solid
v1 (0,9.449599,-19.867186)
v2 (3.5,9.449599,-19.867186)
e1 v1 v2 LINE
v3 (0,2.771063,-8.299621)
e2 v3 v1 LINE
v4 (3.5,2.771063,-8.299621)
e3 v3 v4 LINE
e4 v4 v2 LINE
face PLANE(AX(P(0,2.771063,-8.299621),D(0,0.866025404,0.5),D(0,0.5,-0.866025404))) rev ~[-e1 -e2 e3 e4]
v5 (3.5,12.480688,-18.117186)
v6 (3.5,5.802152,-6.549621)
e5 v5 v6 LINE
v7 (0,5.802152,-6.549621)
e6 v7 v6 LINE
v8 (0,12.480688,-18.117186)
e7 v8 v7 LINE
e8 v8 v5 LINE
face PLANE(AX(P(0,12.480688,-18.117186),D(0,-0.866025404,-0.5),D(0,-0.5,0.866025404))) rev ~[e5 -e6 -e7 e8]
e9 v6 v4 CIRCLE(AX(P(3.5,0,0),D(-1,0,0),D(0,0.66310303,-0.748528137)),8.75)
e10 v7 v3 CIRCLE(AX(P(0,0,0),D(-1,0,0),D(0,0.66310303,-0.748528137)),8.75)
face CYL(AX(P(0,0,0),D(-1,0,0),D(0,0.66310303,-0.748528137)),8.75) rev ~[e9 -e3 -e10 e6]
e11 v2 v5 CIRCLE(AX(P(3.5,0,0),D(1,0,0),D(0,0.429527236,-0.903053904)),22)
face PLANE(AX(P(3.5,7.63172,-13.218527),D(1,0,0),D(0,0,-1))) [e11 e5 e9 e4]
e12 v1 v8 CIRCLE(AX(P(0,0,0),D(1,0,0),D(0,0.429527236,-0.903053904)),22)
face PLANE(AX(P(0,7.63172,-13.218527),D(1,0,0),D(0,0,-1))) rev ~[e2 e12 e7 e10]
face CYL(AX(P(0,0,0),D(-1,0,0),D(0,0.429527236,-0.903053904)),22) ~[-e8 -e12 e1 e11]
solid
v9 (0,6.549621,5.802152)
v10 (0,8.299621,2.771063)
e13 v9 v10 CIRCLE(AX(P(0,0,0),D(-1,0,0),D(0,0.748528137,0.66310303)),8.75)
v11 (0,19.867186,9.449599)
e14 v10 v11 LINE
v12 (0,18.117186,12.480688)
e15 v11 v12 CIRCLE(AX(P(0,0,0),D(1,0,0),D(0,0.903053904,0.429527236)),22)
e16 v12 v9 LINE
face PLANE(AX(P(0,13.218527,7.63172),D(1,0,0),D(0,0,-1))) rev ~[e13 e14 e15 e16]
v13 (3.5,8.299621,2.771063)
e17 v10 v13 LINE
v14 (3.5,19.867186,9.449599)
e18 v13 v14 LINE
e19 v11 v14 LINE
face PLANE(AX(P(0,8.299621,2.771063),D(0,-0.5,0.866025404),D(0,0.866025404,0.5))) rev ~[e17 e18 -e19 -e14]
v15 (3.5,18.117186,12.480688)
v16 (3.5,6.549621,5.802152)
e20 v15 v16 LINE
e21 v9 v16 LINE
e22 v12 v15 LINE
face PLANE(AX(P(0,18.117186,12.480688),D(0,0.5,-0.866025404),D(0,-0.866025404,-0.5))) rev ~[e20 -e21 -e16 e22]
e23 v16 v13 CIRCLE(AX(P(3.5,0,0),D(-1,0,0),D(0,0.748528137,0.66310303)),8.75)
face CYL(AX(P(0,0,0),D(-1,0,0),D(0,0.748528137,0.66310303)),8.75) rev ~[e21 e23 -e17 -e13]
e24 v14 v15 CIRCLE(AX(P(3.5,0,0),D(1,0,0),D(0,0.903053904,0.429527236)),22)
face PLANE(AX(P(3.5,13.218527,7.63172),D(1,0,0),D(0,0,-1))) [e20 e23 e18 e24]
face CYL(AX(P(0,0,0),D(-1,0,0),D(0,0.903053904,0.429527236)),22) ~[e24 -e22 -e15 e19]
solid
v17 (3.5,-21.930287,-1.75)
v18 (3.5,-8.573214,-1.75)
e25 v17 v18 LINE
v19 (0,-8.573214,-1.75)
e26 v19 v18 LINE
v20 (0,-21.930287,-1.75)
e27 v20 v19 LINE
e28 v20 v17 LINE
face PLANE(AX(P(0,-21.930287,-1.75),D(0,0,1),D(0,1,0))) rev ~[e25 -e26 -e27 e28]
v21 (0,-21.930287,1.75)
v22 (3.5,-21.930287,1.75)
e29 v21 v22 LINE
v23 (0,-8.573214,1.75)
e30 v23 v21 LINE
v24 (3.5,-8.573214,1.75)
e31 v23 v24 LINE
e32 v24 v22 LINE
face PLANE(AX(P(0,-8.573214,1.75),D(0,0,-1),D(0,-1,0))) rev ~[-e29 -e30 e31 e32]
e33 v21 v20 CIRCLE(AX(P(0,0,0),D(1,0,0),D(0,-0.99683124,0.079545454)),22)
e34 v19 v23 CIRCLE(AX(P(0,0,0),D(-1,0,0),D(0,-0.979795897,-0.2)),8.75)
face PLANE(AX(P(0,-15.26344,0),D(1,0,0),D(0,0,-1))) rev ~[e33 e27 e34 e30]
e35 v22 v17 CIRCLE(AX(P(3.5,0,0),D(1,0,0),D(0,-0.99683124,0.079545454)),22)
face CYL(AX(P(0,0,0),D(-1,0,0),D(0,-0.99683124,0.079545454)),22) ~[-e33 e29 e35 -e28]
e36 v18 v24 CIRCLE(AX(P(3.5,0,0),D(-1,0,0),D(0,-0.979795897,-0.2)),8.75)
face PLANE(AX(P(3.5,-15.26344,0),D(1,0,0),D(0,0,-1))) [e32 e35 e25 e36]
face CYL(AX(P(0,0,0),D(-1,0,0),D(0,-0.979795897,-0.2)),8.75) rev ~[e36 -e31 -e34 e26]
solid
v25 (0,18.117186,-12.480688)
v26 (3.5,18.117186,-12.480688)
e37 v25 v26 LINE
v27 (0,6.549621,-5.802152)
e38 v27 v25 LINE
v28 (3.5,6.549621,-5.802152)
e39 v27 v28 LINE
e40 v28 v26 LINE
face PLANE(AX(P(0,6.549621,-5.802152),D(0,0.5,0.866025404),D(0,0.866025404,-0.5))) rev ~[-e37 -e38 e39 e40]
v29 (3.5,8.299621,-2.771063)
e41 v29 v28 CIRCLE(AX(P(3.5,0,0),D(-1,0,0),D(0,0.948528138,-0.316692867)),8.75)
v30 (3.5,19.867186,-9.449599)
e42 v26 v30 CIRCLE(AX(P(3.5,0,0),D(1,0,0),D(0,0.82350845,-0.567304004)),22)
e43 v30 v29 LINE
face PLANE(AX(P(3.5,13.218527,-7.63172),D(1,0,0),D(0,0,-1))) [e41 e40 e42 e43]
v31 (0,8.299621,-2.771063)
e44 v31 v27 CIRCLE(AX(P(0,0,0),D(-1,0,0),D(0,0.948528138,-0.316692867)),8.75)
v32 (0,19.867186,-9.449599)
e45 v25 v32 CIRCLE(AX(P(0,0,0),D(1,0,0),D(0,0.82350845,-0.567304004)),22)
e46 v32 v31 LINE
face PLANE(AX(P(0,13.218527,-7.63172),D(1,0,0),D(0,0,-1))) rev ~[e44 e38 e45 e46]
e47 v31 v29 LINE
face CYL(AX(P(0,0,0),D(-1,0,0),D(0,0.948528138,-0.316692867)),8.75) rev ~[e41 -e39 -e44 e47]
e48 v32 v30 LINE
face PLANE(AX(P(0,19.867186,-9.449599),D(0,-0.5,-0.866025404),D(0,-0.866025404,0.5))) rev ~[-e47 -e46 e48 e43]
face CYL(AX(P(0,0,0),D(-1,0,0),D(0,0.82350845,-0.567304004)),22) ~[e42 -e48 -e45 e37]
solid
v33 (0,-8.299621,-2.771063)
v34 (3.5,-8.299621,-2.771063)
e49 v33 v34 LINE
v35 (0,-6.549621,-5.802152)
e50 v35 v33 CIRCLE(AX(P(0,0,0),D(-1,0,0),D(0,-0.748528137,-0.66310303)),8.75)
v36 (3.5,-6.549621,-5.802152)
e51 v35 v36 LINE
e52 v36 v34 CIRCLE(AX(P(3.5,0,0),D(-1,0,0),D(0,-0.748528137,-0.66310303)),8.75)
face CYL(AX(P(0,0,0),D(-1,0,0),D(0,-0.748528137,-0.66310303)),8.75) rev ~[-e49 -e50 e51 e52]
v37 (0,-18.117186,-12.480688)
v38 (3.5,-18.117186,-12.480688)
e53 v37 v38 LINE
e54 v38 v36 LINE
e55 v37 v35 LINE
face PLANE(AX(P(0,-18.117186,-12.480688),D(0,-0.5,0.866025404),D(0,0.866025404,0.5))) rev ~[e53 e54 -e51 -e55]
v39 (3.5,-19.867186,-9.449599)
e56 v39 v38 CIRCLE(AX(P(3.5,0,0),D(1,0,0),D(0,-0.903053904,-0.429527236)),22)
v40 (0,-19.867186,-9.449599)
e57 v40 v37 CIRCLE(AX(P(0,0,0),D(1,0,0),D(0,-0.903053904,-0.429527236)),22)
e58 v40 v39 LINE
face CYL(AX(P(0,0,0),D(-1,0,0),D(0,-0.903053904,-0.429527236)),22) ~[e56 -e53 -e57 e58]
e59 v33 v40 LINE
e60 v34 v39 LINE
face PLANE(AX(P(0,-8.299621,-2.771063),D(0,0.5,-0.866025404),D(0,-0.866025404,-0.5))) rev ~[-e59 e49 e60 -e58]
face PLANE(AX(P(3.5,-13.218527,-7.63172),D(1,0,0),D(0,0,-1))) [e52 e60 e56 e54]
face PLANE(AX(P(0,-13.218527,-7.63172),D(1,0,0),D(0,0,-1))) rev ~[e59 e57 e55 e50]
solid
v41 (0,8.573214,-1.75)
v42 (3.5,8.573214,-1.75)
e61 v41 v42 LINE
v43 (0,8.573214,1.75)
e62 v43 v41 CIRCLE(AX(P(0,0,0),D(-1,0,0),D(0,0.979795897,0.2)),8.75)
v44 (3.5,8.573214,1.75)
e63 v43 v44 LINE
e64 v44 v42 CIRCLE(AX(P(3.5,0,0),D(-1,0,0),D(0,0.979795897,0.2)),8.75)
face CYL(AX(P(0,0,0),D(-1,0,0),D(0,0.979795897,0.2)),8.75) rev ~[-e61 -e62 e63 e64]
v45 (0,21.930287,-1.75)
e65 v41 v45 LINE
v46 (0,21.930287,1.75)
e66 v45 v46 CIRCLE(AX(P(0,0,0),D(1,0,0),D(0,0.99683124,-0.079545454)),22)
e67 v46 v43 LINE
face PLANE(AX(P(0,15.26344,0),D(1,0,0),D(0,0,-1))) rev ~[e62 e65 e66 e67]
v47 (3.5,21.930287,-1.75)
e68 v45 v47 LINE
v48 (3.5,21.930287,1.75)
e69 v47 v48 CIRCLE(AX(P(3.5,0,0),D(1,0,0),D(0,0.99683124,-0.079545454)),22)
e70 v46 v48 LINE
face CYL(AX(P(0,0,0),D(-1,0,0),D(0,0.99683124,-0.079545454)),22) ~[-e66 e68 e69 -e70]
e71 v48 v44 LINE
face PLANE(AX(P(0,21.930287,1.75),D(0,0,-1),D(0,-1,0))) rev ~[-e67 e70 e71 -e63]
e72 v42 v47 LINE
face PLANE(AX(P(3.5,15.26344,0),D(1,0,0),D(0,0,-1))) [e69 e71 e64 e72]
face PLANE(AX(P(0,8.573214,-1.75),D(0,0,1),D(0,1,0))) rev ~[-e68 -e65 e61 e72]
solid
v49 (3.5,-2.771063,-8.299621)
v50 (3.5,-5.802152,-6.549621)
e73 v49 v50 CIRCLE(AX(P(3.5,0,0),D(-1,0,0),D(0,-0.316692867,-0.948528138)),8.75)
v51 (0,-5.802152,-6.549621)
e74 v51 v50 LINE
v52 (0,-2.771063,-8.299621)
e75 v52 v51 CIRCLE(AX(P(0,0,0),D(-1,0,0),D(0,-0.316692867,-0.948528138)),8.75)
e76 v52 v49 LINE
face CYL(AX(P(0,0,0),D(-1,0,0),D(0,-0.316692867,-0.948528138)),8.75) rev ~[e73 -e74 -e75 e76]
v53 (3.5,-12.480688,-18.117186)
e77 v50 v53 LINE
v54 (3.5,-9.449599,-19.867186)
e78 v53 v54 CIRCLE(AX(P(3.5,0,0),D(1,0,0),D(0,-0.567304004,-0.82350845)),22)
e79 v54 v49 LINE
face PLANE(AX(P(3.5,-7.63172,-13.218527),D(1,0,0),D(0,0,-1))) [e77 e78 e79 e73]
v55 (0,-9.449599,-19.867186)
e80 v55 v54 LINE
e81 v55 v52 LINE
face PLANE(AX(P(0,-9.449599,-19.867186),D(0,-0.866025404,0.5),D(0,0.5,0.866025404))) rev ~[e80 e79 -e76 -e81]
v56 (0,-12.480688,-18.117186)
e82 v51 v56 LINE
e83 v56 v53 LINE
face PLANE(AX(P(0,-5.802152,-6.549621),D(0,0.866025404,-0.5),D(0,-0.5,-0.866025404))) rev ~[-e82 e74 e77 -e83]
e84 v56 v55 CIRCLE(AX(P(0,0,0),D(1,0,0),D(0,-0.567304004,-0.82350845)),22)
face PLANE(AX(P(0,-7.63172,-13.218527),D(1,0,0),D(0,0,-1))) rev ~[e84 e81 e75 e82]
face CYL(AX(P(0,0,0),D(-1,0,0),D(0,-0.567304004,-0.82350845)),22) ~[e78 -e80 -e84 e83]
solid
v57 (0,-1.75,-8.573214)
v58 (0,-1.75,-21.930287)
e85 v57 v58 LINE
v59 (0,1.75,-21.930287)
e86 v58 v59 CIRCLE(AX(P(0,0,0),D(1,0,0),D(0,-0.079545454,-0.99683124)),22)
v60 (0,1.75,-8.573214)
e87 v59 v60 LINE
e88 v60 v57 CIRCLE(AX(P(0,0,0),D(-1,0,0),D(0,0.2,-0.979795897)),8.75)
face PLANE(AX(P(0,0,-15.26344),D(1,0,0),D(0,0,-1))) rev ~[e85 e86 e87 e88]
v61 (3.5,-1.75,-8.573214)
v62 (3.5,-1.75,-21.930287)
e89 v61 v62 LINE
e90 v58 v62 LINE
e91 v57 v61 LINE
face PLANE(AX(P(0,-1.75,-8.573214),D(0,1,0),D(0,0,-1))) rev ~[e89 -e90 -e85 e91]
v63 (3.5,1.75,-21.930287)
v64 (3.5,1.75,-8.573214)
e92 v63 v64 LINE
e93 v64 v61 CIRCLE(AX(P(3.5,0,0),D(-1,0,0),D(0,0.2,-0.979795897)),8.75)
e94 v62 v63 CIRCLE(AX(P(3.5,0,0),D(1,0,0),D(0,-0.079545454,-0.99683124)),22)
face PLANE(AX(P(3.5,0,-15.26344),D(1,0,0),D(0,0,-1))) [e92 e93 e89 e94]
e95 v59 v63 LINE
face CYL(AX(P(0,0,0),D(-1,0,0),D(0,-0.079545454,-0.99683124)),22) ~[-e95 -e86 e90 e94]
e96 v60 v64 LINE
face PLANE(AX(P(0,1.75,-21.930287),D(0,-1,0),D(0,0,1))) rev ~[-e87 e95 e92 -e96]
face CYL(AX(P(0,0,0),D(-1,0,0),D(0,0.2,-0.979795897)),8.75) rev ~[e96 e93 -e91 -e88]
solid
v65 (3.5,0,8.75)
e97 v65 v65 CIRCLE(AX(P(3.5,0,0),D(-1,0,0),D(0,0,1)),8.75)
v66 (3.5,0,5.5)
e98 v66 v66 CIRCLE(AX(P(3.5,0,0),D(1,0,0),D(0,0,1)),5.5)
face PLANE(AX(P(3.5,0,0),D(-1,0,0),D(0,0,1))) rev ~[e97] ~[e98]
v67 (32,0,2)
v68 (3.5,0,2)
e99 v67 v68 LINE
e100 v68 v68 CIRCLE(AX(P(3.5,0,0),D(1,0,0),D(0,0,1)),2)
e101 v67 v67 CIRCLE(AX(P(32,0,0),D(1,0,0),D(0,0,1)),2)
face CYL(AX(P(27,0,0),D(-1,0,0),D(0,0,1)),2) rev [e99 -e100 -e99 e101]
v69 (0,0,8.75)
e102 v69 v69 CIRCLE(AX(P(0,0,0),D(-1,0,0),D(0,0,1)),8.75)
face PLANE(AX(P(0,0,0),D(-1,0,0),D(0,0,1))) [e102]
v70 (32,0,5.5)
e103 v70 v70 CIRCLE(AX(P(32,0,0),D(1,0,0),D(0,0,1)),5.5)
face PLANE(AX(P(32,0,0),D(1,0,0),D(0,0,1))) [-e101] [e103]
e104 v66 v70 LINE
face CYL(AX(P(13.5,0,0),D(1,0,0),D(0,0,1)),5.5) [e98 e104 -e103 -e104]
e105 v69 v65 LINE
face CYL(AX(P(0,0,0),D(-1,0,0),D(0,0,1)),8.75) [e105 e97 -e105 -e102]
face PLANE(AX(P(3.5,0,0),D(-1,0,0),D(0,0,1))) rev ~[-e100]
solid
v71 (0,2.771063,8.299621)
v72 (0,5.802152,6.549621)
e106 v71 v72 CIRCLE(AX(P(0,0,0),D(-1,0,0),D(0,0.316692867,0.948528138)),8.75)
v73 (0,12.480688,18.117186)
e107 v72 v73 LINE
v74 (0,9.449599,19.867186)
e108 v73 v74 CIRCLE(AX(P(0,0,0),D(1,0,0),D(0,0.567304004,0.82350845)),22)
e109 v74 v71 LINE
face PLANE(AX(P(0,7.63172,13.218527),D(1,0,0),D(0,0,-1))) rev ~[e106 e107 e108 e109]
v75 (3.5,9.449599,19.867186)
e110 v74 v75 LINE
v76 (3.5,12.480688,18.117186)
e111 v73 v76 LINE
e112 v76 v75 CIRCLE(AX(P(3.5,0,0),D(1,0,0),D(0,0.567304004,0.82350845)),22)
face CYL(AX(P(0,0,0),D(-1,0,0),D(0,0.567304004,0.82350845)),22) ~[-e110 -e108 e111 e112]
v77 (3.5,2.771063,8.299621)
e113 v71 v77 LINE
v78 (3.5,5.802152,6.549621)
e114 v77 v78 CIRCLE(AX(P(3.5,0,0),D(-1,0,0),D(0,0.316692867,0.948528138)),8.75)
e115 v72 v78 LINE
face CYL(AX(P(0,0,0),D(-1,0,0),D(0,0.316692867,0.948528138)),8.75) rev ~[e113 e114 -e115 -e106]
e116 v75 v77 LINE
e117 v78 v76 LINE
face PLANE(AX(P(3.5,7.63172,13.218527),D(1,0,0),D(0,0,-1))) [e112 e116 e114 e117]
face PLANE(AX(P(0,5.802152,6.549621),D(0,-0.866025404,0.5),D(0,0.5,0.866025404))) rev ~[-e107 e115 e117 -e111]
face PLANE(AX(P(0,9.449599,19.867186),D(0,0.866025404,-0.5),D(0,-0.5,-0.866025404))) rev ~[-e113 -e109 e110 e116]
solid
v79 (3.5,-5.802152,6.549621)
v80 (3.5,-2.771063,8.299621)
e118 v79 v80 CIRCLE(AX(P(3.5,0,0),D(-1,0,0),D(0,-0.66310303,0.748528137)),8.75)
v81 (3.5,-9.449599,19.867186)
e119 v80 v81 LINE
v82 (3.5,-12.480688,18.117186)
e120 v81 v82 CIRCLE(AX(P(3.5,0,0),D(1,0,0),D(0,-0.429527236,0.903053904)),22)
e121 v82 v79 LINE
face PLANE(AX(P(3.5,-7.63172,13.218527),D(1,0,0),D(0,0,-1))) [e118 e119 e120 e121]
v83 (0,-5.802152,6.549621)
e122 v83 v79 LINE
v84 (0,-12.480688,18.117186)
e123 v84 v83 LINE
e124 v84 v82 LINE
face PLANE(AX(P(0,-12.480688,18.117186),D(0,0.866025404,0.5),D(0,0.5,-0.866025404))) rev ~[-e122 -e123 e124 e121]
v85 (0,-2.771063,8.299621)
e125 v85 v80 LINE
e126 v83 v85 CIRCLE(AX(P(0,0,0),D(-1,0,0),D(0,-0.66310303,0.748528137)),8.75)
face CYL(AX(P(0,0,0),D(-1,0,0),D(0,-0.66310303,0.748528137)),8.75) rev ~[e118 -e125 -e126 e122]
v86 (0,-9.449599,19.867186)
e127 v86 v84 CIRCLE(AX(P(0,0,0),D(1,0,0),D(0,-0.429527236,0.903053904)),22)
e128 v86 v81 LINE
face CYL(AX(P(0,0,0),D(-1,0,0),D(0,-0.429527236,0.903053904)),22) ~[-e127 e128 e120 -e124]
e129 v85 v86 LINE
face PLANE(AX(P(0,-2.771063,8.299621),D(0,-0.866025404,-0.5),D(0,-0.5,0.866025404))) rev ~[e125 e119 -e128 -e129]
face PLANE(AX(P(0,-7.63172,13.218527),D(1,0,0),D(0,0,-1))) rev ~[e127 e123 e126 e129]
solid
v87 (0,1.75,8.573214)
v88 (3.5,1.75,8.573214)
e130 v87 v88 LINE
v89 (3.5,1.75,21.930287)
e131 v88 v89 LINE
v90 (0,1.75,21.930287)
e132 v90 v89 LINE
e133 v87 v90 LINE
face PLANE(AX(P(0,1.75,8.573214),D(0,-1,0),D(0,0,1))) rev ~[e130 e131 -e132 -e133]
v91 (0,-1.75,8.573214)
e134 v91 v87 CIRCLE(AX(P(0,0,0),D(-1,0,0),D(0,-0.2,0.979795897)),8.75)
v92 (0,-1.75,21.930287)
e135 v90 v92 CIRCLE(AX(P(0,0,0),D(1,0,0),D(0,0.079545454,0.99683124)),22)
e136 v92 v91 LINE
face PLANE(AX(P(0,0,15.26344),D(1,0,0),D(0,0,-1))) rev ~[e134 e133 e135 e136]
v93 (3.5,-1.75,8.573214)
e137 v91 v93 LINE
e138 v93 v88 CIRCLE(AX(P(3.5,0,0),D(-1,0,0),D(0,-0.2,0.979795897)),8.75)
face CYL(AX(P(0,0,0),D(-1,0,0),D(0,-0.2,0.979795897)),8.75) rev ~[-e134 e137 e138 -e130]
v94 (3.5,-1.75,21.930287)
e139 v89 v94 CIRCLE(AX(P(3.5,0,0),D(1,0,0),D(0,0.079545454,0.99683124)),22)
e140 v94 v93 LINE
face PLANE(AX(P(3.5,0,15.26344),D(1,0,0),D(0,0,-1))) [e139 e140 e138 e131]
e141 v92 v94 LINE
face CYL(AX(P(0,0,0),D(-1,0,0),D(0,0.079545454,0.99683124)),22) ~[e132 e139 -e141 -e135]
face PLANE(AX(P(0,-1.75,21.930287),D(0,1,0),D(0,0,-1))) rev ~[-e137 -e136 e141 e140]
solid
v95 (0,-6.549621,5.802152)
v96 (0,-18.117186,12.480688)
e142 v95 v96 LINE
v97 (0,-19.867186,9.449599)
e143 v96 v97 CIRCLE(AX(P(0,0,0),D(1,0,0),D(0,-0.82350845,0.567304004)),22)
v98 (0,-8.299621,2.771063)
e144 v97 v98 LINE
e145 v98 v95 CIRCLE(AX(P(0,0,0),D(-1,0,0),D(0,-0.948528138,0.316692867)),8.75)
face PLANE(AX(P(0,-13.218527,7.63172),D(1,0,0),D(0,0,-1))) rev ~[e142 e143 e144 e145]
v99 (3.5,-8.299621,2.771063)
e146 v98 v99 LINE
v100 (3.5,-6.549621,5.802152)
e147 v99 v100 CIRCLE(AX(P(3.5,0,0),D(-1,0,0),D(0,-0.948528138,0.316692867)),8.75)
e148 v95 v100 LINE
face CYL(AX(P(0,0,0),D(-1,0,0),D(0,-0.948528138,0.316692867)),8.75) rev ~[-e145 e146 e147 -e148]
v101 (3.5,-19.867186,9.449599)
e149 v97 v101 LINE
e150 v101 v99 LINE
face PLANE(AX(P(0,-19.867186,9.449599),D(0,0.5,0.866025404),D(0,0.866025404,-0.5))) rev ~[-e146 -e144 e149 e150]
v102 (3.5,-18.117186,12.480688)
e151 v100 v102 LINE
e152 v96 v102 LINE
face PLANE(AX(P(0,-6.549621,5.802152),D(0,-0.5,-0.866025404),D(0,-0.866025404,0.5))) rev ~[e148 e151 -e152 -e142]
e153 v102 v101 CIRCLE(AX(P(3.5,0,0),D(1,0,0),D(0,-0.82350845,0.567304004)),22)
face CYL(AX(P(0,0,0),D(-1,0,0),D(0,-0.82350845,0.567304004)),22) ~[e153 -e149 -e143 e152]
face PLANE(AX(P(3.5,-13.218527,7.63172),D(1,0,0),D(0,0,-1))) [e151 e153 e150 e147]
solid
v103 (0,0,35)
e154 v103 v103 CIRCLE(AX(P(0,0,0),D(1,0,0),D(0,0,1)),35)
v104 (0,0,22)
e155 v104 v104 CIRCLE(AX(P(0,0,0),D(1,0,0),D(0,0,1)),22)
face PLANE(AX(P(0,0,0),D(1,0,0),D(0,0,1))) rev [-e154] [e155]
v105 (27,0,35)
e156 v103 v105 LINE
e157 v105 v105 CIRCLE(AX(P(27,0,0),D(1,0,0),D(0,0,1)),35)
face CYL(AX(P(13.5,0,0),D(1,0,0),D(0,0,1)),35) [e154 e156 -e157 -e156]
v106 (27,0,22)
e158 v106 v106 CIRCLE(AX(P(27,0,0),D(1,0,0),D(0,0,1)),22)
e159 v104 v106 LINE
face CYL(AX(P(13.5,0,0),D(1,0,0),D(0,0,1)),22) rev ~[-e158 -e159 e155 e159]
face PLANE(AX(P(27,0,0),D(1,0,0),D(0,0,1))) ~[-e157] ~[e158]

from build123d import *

# Parameters (mm, degrees)
SKETCH1_W              = 27
SKETCH1_H              = 13
SKETCH1_H_2            = 3.5
SKETCH3_R              = 5.5
SKETCH3_R_2            = 2
BOSS_EXTRUDE1_DEPTH    = 5
SKETCH4_R              = 8.75
BOSS_EXTRUDE2_DEPTH    = 3.5
BOSS_EXTRUDE3_DEPTH    = 3.5
BOSS_EXTRUDE3_2_DEPTH  = 3.5
BOSS_EXTRUDE3_3_DEPTH  = 3.5
BOSS_EXTRUDE3_4_DEPTH  = 3.5
BOSS_EXTRUDE3_5_DEPTH  = 3.5
BOSS_EXTRUDE3_6_DEPTH  = 3.5
BOSS_EXTRUDE3_7_DEPTH  = 3.5
BOSS_EXTRUDE3_8_DEPTH  = 3.5
BOSS_EXTRUDE3_9_DEPTH  = 3.5
BOSS_EXTRUDE3_10_DEPTH = 3.5
BOSS_EXTRUDE3_11_DEPTH = 3.5
BOSS_EXTRUDE3_12_DEPTH = 3.5


with BuildPart() as part:
    # Sketch1 → Revolve2 (revolve)
    with BuildSketch(Plane.XY, mode=Mode.PRIVATE) as revolve2_sk:
        with Locations((13.5, 28.5)):
            Rectangle(SKETCH1_W, SKETCH1_H)
        with Locations((13.5, 3.75)):
            Rectangle(SKETCH1_W, SKETCH1_H_2)
    revolve(revolve2_sk.sketch.rotate(Axis((0, 0, 0), (1, 0, 0)), 90), axis=Axis((0, 0, 0), (1, 0, 0)))

    # Sketch3 → Boss-Extrude1 (add)
    with BuildSketch(Plane(origin=(27, 0, 0), x_dir=(0, 0, -1), z_dir=(1, 0, 0))):
        with Locations(Location((0, 0, 0), (0, 0, 180))):
            Circle(SKETCH3_R)
        with Locations(Location((0, 0, 0), (0, 0, 180))):
            Circle(SKETCH3_R_2, mode=Mode.SUBTRACT)
    extrude(amount=BOSS_EXTRUDE1_DEPTH)

    # Sketch4 → Boss-Extrude2 (add)
    with BuildSketch(Plane.ZY):
        Circle(SKETCH4_R)
    extrude(amount=-BOSS_EXTRUDE2_DEPTH)


with BuildPart() as body_2:
    # Sketch5 → Boss-Extrude3 (new body)
    with BuildSketch(Plane.ZY):
        with BuildLine():
            Line((-1.75, 8.5732141), (-1.75, 21.930287276))
            ThreePointArc((-1.75, 21.930287276), (0, 22), (1.75, 21.930287276))
            Line((1.75, 21.930287276), (1.75, 8.5732141))
            ThreePointArc((1.75, 8.5732141), (0, 8.75), (-1.75, 8.5732141))
        make_face()
    extrude(amount=-BOSS_EXTRUDE3_DEPTH)


with BuildPart() as body_3:
    # Sketch5 → Boss-Extrude3 2 (new body)
    with BuildSketch(Plane.ZY):
        with BuildLine():
            Line((2.771062593, 8.299621202), (9.449599181, 19.867185893))
            ThreePointArc((9.449599181, 19.867185893), (11, 19.052558883), (12.480688095, 18.117185893))
            Line((12.480688095, 18.117185893), (5.802151506, 6.549621202))
            ThreePointArc((5.802151506, 6.549621202), (4.375, 7.577722283), (2.771062593, 8.299621202))
        make_face()
    extrude(amount=-BOSS_EXTRUDE3_2_DEPTH)


with BuildPart() as body_4:
    # Sketch5 → Boss-Extrude3 3 (new body)
    with BuildSketch(Plane.ZY):
        with BuildLine():
            Line((6.549621202, 5.802151506), (18.117185893, 12.480688095))
            ThreePointArc((18.117185893, 12.480688095), (19.052558883, 11), (19.867185893, 9.449599181))
            Line((19.867185893, 9.449599181), (8.299621202, 2.771062593))
            ThreePointArc((8.299621202, 2.771062593), (7.577722283, 4.375), (6.549621202, 5.802151506))
        make_face()
    extrude(amount=-BOSS_EXTRUDE3_3_DEPTH)


with BuildPart() as body_5:
    # Sketch5 → Boss-Extrude3 4 (new body)
    with BuildSketch(Plane.ZY):
        with BuildLine():
            Line((8.5732141, 1.75), (21.930287276, 1.75))
            ThreePointArc((21.930287276, 1.75), (22, 0), (21.930287276, -1.75))
            Line((21.930287276, -1.75), (8.5732141, -1.75))
            ThreePointArc((8.5732141, -1.75), (8.75, 0), (8.5732141, 1.75))
        make_face()
    extrude(amount=-BOSS_EXTRUDE3_4_DEPTH)


with BuildPart() as body_6:
    # Sketch5 → Boss-Extrude3 5 (new body)
    with BuildSketch(Plane.ZY):
        with BuildLine():
            Line((8.299621202, -2.771062593), (19.867185893, -9.449599181))
            ThreePointArc((19.867185893, -9.449599181), (19.052558883, -11), (18.117185893, -12.480688095))
            Line((18.117185893, -12.480688095), (6.549621202, -5.802151506))
            ThreePointArc((6.549621202, -5.802151506), (7.577722283, -4.375), (8.299621202, -2.771062593))
        make_face()
    extrude(amount=-BOSS_EXTRUDE3_5_DEPTH)


with BuildPart() as body_7:
    # Sketch5 → Boss-Extrude3 6 (new body)
    with BuildSketch(Plane.ZY):
        with BuildLine():
            Line((5.802151506, -6.549621202), (12.480688095, -18.117185893))
            ThreePointArc((12.480688095, -18.117185893), (11, -19.052558883), (9.449599181, -19.867185893))
            Line((9.449599181, -19.867185893), (2.771062593, -8.299621202))
            ThreePointArc((2.771062593, -8.299621202), (4.375, -7.577722283), (5.802151506, -6.549621202))
        make_face()
    extrude(amount=-BOSS_EXTRUDE3_6_DEPTH)


with BuildPart() as body_8:
    # Sketch5 → Boss-Extrude3 7 (new body)
    with BuildSketch(Plane.ZY):
        with BuildLine():
            Line((1.75, -8.5732141), (1.75, -21.930287276))
            ThreePointArc((1.75, -21.930287276), (0, -22), (-1.75, -21.930287276))
            Line((-1.75, -21.930287276), (-1.75, -8.5732141))
            ThreePointArc((-1.75, -8.5732141), (0, -8.75), (1.75, -8.5732141))
        make_face()
    extrude(amount=-BOSS_EXTRUDE3_7_DEPTH)


with BuildPart() as body_9:
    # Sketch5 → Boss-Extrude3 8 (new body)
    with BuildSketch(Plane.ZY):
        with BuildLine():
            Line((-2.771062593, -8.299621202), (-9.449599181, -19.867185893))
            ThreePointArc((-9.449599181, -19.867185893), (-11, -19.052558883), (-12.480688095, -18.117185893))
            Line((-12.480688095, -18.117185893), (-5.802151506, -6.549621202))
            ThreePointArc((-5.802151506, -6.549621202), (-4.375, -7.577722283), (-2.771062593, -8.299621202))
        make_face()
    extrude(amount=-BOSS_EXTRUDE3_8_DEPTH)


with BuildPart() as body_10:
    # Sketch5 → Boss-Extrude3 9 (new body)
    with BuildSketch(Plane.ZY):
        with BuildLine():
            Line((-6.549621202, -5.802151506), (-18.117185893, -12.480688095))
            ThreePointArc((-18.117185893, -12.480688095), (-19.052558883, -11), (-19.867185893, -9.449599181))
            Line((-19.867185893, -9.449599181), (-8.299621202, -2.771062593))
            ThreePointArc((-8.299621202, -2.771062593), (-7.577722283, -4.375), (-6.549621202, -5.802151506))
        make_face()
    extrude(amount=-BOSS_EXTRUDE3_9_DEPTH)


with BuildPart() as body_11:
    # Sketch5 → Boss-Extrude3 10 (new body)
    with BuildSketch(Plane.ZY):
        with BuildLine():
            Line((-8.5732141, -1.75), (-21.930287276, -1.75))
            ThreePointArc((-21.930287276, -1.75), (-22, 0), (-21.930287276, 1.75))
            Line((-21.930287276, 1.75), (-8.5732141, 1.75))
            ThreePointArc((-8.5732141, 1.75), (-8.75, 0), (-8.5732141, -1.75))
        make_face()
    extrude(amount=-BOSS_EXTRUDE3_10_DEPTH)


with BuildPart() as body_12:
    # Sketch5 → Boss-Extrude3 11 (new body)
    with BuildSketch(Plane.ZY):
        with BuildLine():
            Line((-8.299621202, 2.771062593), (-19.867185893, 9.449599181))
            ThreePointArc((-19.867185893, 9.449599181), (-19.052558883, 11), (-18.117185893, 12.480688095))
            Line((-18.117185893, 12.480688095), (-6.549621202, 5.802151506))
            ThreePointArc((-6.549621202, 5.802151506), (-7.577722283, 4.375), (-8.299621202, 2.771062593))
        make_face()
    extrude(amount=-BOSS_EXTRUDE3_11_DEPTH)


with BuildPart() as body_13:
    # Sketch5 → Boss-Extrude3 12 (new body)
    with BuildSketch(Plane.ZY):
        with BuildLine():
            Line((-5.802151506, 6.549621202), (-12.480688095, 18.117185893))
            ThreePointArc((-12.480688095, 18.117185893), (-11, 19.052558883), (-9.449599181, 19.867185893))
            Line((-9.449599181, 19.867185893), (-2.771062593, 8.299621202))
            ThreePointArc((-2.771062593, 8.299621202), (-4.375, 7.577722283), (-5.802151506, 6.549621202))
        make_face()
    extrude(amount=-BOSS_EXTRUDE3_12_DEPTH)


solid = Compound([part.part, body_2.part, body_3.part, body_4.part, body_5.part, body_6.part, body_7.part, body_8.part, body_9.part, body_10.part, body_11.part, body_12.part, body_13.part])
